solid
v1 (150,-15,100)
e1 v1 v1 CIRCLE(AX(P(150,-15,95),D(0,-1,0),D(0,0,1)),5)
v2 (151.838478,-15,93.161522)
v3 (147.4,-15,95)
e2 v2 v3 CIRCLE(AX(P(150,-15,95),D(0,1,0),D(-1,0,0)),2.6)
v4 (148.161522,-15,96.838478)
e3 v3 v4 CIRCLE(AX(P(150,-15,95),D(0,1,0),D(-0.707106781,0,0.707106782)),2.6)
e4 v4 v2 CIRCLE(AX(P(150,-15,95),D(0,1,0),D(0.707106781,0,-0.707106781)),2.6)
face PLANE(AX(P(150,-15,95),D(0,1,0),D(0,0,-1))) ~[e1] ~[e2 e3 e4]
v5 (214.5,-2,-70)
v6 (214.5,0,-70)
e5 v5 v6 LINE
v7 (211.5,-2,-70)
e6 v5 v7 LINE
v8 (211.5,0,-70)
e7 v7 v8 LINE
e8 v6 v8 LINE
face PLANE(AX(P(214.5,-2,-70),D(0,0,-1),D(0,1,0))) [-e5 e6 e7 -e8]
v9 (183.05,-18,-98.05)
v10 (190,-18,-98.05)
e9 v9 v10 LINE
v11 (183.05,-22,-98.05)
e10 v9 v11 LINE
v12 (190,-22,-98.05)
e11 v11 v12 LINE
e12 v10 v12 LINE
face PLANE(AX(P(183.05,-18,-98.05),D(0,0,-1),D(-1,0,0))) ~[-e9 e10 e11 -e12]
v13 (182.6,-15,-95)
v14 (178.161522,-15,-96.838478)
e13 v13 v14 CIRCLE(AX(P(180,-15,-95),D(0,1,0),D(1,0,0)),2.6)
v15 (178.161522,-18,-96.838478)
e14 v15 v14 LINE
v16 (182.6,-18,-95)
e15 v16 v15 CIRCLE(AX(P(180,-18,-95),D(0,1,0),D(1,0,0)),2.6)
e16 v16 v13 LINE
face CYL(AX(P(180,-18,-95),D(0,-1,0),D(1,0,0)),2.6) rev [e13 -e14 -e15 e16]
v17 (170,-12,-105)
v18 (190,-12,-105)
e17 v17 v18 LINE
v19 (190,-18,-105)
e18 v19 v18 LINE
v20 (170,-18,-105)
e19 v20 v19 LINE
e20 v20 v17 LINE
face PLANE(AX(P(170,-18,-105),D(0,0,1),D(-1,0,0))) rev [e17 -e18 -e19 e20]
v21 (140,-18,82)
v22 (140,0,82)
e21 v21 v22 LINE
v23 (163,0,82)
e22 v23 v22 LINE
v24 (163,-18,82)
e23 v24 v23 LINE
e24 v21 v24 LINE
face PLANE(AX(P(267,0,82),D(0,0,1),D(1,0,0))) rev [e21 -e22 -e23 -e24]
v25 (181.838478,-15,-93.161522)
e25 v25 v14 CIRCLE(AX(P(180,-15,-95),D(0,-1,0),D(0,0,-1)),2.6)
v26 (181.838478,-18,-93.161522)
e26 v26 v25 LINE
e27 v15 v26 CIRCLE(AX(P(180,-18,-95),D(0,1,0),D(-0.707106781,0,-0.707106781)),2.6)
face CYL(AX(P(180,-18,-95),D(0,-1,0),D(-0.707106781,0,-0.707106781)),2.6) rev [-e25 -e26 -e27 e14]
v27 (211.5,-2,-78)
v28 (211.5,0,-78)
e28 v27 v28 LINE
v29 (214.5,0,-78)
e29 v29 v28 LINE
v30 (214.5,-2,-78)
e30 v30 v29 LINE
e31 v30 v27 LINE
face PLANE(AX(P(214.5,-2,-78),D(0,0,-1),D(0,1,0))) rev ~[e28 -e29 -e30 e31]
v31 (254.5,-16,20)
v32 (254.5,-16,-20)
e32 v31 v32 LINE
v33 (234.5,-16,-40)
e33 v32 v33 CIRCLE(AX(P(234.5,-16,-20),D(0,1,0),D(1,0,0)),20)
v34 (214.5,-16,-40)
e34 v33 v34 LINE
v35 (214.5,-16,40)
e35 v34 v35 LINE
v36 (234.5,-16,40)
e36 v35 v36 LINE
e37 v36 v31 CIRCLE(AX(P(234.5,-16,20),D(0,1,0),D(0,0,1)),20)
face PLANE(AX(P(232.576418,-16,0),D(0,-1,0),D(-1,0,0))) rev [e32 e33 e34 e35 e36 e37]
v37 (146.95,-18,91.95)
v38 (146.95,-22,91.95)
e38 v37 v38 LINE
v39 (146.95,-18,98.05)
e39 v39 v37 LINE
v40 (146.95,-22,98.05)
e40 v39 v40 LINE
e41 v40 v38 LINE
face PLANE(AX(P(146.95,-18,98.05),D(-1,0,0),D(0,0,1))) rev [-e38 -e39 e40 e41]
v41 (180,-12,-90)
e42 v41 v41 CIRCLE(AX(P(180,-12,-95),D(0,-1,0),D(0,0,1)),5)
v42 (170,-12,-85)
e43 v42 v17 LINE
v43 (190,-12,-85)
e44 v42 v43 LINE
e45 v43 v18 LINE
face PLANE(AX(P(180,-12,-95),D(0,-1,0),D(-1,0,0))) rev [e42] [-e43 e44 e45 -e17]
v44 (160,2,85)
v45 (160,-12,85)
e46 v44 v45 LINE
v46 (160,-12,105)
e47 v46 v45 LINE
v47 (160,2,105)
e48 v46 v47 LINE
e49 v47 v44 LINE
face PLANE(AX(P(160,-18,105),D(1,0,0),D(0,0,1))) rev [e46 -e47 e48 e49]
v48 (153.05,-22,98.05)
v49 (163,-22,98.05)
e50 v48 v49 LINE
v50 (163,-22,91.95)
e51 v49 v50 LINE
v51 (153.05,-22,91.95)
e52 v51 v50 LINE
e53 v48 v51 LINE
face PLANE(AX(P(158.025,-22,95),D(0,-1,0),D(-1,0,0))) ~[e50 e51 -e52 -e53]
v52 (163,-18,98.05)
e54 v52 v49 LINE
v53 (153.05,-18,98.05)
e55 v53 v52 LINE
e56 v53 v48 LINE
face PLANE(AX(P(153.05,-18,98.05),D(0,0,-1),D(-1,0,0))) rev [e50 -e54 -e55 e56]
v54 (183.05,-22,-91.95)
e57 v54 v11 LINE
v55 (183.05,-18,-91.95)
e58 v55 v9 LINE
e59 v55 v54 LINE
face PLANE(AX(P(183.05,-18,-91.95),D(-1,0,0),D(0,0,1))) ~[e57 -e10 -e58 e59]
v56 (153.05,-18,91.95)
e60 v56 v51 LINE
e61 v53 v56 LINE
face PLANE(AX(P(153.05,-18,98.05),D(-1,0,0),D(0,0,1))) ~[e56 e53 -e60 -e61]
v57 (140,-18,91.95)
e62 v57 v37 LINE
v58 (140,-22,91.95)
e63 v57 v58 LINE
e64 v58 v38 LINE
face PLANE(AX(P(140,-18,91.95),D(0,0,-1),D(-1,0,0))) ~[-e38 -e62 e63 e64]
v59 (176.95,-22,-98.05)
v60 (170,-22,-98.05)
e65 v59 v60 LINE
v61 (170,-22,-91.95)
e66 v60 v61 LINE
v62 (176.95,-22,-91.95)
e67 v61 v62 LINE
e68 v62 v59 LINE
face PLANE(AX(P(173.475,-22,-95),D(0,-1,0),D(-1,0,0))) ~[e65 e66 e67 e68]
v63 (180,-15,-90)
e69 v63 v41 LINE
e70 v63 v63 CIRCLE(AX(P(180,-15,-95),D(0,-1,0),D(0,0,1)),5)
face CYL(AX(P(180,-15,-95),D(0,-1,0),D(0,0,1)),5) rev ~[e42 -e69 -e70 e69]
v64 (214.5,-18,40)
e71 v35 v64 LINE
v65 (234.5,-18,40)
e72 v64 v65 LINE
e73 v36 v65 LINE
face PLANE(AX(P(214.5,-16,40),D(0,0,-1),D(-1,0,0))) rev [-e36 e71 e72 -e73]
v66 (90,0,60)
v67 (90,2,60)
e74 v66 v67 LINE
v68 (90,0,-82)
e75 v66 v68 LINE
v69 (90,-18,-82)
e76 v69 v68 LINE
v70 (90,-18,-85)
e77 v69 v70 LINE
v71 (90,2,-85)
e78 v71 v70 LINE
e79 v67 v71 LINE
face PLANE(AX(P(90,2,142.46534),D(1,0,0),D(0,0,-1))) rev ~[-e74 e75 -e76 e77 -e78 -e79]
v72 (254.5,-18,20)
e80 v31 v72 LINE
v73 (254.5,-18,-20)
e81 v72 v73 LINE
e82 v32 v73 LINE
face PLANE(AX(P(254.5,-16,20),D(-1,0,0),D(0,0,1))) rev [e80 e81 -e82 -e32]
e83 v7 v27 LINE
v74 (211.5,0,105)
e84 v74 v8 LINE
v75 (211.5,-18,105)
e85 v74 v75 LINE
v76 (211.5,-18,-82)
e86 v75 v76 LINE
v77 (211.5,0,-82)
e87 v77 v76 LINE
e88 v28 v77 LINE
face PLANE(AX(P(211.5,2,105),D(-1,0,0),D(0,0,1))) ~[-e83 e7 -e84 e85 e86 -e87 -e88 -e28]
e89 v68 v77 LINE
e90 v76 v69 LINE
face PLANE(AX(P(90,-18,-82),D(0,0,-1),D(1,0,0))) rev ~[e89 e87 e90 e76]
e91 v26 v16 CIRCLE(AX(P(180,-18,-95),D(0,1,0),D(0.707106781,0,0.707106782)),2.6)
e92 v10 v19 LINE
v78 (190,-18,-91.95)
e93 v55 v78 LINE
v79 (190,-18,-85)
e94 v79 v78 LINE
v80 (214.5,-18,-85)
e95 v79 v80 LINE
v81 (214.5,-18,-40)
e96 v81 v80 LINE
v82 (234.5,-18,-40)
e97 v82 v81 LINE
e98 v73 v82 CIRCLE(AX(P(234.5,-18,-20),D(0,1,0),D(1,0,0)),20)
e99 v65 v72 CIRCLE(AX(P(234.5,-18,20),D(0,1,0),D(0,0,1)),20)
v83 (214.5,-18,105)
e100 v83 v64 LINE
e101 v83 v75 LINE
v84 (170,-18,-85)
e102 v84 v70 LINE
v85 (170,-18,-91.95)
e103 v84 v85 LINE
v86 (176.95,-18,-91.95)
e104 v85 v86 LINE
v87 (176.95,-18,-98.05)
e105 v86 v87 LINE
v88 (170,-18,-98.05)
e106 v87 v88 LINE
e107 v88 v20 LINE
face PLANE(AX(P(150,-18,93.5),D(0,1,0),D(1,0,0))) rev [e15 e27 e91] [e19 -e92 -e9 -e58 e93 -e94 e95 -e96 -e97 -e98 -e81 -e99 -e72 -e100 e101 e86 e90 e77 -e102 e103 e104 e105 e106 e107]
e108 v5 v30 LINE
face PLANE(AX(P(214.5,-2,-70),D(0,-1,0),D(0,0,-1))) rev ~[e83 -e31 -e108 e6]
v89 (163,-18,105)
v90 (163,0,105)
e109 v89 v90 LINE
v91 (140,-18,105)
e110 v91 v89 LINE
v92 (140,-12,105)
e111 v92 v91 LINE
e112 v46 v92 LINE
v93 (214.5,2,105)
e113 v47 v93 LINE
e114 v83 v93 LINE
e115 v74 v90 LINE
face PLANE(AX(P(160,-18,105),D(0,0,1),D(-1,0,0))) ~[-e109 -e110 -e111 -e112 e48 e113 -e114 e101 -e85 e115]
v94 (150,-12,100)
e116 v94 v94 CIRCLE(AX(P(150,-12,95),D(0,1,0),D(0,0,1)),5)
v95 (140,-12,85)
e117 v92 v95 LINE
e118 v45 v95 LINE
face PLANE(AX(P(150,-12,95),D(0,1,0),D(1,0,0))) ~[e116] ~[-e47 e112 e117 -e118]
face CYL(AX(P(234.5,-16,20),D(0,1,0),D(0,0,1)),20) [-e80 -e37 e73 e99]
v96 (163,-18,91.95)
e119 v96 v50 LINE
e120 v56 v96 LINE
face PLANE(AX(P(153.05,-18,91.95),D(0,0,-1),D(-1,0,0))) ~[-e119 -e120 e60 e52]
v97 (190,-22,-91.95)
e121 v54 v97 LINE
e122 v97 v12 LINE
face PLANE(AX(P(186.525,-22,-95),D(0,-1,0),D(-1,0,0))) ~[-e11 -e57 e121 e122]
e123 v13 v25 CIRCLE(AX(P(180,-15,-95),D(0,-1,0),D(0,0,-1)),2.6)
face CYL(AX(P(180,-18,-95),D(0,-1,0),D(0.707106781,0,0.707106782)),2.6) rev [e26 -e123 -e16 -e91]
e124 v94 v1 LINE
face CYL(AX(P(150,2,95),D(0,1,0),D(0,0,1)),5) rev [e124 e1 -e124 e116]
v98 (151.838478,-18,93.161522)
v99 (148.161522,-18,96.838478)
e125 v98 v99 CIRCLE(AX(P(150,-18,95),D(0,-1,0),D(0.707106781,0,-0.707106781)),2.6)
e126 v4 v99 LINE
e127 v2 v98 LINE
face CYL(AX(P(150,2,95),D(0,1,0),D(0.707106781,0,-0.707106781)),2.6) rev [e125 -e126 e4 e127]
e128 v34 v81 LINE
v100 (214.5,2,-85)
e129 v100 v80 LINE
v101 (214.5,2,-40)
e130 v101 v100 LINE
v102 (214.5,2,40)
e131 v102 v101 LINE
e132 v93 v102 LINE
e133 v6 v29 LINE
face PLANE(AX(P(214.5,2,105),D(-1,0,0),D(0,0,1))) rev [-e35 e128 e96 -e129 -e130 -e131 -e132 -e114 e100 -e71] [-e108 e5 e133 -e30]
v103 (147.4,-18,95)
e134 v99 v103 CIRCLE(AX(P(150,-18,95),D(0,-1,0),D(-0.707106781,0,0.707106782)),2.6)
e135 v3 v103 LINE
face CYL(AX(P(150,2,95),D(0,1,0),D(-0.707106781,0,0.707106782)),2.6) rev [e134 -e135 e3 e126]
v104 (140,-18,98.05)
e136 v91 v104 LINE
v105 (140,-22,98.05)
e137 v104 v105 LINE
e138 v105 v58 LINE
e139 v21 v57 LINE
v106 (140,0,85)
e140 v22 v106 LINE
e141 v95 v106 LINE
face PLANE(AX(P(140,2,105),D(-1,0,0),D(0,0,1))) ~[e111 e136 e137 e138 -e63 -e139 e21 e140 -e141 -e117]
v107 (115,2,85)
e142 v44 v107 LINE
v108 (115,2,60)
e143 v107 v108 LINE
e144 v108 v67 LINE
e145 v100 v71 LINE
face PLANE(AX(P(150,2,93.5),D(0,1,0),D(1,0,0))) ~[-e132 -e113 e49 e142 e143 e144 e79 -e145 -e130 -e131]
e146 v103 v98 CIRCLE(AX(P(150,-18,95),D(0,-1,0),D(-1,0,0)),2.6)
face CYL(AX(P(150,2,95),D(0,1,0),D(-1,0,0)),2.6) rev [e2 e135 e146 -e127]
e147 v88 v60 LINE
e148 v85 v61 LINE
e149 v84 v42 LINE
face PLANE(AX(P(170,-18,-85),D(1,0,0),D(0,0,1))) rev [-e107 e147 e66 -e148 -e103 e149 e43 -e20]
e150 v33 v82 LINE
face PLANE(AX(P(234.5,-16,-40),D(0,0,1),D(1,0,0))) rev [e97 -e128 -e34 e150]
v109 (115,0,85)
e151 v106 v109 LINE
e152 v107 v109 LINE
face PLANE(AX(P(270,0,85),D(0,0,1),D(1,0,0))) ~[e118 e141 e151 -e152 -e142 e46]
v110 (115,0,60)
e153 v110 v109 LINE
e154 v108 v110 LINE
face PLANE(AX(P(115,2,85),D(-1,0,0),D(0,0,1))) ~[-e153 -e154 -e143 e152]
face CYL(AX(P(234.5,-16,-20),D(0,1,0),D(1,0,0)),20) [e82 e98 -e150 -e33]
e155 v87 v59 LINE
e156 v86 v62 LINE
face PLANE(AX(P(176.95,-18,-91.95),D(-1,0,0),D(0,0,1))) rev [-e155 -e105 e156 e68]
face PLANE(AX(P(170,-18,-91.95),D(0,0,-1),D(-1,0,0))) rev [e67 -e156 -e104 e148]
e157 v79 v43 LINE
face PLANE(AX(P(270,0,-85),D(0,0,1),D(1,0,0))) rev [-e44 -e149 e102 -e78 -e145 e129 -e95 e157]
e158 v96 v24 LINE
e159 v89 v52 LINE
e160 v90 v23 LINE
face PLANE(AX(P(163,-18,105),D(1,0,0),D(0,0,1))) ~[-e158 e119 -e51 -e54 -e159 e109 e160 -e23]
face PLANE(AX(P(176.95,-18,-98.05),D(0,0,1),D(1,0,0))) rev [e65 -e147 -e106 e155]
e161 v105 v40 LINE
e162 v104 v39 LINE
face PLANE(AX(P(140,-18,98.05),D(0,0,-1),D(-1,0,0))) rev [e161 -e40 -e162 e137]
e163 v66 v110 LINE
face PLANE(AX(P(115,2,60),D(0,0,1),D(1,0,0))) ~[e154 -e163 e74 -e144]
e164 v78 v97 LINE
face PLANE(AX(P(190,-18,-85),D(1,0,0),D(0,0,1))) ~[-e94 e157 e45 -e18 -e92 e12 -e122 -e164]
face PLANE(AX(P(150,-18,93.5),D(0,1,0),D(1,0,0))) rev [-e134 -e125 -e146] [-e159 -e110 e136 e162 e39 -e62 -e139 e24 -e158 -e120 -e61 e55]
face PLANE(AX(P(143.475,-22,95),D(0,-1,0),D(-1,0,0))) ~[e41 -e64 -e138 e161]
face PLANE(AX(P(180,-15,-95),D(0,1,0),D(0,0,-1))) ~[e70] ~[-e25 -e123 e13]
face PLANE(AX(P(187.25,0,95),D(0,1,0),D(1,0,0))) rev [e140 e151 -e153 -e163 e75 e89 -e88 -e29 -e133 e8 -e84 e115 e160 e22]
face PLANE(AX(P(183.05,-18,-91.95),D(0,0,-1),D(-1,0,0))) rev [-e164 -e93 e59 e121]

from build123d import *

# Parameters (mm, degrees)
SKETCH_1_W           = 180
SKETCH_1_H           = 170
EXTRUDE_1_DEPTH      = 2
SKETCH_2_W           = 180
SKETCH_2_H           = 2
SKETCH_2_W_2         = 2
SKETCH_2_H_2         = 166
EXTRUDE_2_DEPTH      = 18
SKETCH_4_W           = 20
SKETCH_4_H           = 20
EXTRUDE_3_DEPTH      = 20
SKETCH_5_W           = 20
SKETCH_5_H           = 20
CUT_EXTRUDE_1_DEPTH  = 14
SKETCH_6_W           = 176
SKETCH_6_H           = 166
SKETCH_6_W_2         = 174
SKETCH_6_H_2         = 164
EXTRUDE_4_DEPTH      = 18
SKETCH_7_W           = 20
SKETCH_7_H           = 20
EXTRUDE_5_DEPTH      = 6
SKETCH_8_W           = 3
SKETCH_8_H           = 164
SKETCH_8_H_2         = 3
CUT_EXTRUDE_2_DEPTH  = 18
SKETCH_9_W           = 77
SKETCH_9_H           = 3
CUT_EXTRUDE_3_DEPTH  = 18
SKETCH_10_W          = 25
SKETCH_10_H          = 25
CUT_EXTRUDE_4_DEPTH  = 18
SKETCH_11_W          = 6.95
SKETCH_11_H          = 6.1
EXTRUDE_6_DEPTH      = 4
CUT_EXTRUDE_5_DEPTH  = 6
CUT_EXTRUDE_START    = -3
SKETCH_13_R          = 5
SKETCH_13_R_2        = 2.6
CUT_EXTRUDE_6_DEPTH  = 3
CUT_EXTRUDE_7_DEPTH  = 3
SKETCH_15_R          = 2.6
CUT_EXTRUDE_8_DEPTH  = 3
SKETCH_16_W          = 6.1
SKETCH_16_H          = 6.95
EXTRUDE_7_DEPTH      = 4
CUT_EXTRUDE_9_DEPTH  = 6
SKETCH_18_R          = 5
SKETCH_18_R_2        = 2.6
CUT_EXTRUDE_10_DEPTH = 3
EXTRUDE_8_DEPTH      = 4
SKETCH_20_W          = 30
SKETCH_20_H          = 20
SKETCH_20_W_2        = 80
EXTRUDE_9_DEPTH      = 2
SKETCH_21_W          = 3
SKETCH_21_H          = 20
EXTRUDE_10_DEPTH     = 18
SKETCH_22_W          = 20
SKETCH_22_H          = 20
SKETCH_22_R          = 5
EXTRUDE_11_DEPTH     = 14
SKETCH_23_W          = 30
SKETCH_23_H          = 20
CUT_EXTRUDE_11_DEPTH = 14
SKETCH_24_W          = 20
SKETCH_24_H          = 20
EXTRUDE_12_DEPTH     = 2
SKETCH_25_W          = 20
SKETCH_25_H          = 3
CUT_EXTRUDE_12_DEPTH = 18
CUT_EXTRUDE_13_DEPTH = 18
SKETCH_27_W          = 3
SKETCH_27_H          = 20
EXTRUDE_13_DEPTH     = 20
SKETCH_28_W          = 23
SKETCH_28_H          = 3
EXTRUDE_14_DEPTH     = 20
SKETCH_29_W          = 3
SKETCH_29_H          = 5
CUT_EXTRUDE_14_DEPTH = 20
SKETCH_30_W          = 20
SKETCH_30_H          = 20
CUT_EXTRUDE_15_DEPTH = 30
SKETCH_31_W          = 3
SKETCH_31_H          = 190
EXTRUDE_15_DEPTH     = 20
EXTRUDE_START        = -2
EXTRUDE_16_DEPTH     = 2
SKETCH_33_W          = 40
SKETCH_33_H          = 80
CUT_EXTRUDE_16_DEPTH = 2
SKETCH_34_W          = 44.5
SKETCH_34_H          = 20
CUT_EXTRUDE_17_DEPTH = 30
SKETCH_35_W          = 20
SKETCH_35_H          = 3
CUT_EXTRUDE_18_DEPTH = 18
EXTRUDE_17_DEPTH     = 20
CUT_EXTRUDE_19_DEPTH = 20
SKETCH_38_R          = 5
CUT_EXTRUDE_20_DEPTH = 17
SKETCH_39_W          = 20
SKETCH_39_H          = 20
CUT_EXTRUDE_21_DEPTH = 14
SKETCH_40_W          = 54.5
SKETCH_40_H          = 20
EXTRUDE_18_DEPTH     = 2
SKETCH_42_W          = 3
SKETCH_42_H          = 23
EXTRUDE_20_DEPTH     = 18
SKETCH_44_W          = 9.95
SKETCH_44_H          = 6.1
SKETCH_44_W_2        = 6.95
EXTRUDE_21_DEPTH     = 4
SKETCH_45_W          = 26.378914519
SKETCH_45_H          = 21.149439528
CUT_EXTRUDE_22_DEPTH = 30
SKETCH_46_W          = 20
SKETCH_46_H          = 3
EXTRUDE_22_DEPTH     = 18
CUT_EXTRUDE_23_DEPTH = 30
SKETCH_48_W          = 47
SKETCH_48_H          = 3
CUT_EXTRUDE_24_DEPTH = 18
SKETCH_49_W          = 50.597895005
SKETCH_49_H          = 84.263639234
CUT_EXTRUDE_25_DEPTH = 2
SKETCH_50_W          = 48.5
SKETCH_50_H          = 3
CUT_EXTRUDE_26_DEPTH = 18
SKETCH_51_W          = 8
SKETCH_51_H          = 2
CUT_EXTRUDE_27_DEPTH = 18


with BuildPart() as part:
    # 草图1 → 凸台-拉伸1 (new body)
    with BuildSketch(Plane(origin=(0, 0, 0), x_dir=(1, 0, 0), z_dir=(0, 1, 0))):
        Rectangle(SKETCH_1_W, SKETCH_1_H)
    extrude_1 = extrude(amount=EXTRUDE_1_DEPTH)

    # 草图2 → 凸台-拉伸2 (add)
    with BuildSketch(Plane(origin=(0, 0, 0), x_dir=(1, 0, 0), z_dir=(0, 1, 0))):
        with Locations((0, 84)):
            Rectangle(SKETCH_2_W, SKETCH_2_H)
        Polygon((-88, 83), (-90, 83), (-90, -85), (-88, -85), (-88, -83), align=None)
        with Locations((89, 0)):
            Rectangle(SKETCH_2_W_2, SKETCH_2_H_2)
        Polygon((90, -85), (90, -83), (88, -83), (-88, -83), (-88, -85), align=None)
    extrude_2 = extrude(amount=-EXTRUDE_2_DEPTH)

    # 草图4 → 凸台-拉伸3 (add)
    with BuildSketch(Plane(origin=(0, 2, 0), x_dir=(1, 0, 0), z_dir=(0, 1, 0))):
        Polygon((10, -85), (0, -85), (-10, -85), (-10, -95), (-10, -105), (10, -105), (10, -95), align=None)
        with Locations((-100, 0)):
            Rectangle(SKETCH_4_W, SKETCH_4_H)
    extrude(amount=-EXTRUDE_3_DEPTH)

    # 草图5 → 切除-拉伸1 (cut)
    with BuildSketch(Plane(origin=(0, 2, 0), x_dir=(1, 0, 0), z_dir=(0, 1, 0))):
        with Locations((-100, 0)):
            Rectangle(SKETCH_5_W, SKETCH_5_H)
        with Locations((0, -95)):
            Rectangle(SKETCH_5_W, SKETCH_5_H)
    extrude(amount=-CUT_EXTRUDE_1_DEPTH, mode=Mode.SUBTRACT)

    # 草图6 → 凸台-拉伸4 (add)
    with BuildSketch(Plane.XZ):
        Rectangle(SKETCH_6_W, SKETCH_6_H)
        Rectangle(SKETCH_6_W_2, SKETCH_6_H_2, mode=Mode.SUBTRACT)
    extrude_4 = extrude(amount=EXTRUDE_4_DEPTH)

    # 草图7 → 凸台-拉伸5 (add)
    with BuildSketch(Plane(origin=(0, -18, 0), x_dir=(-1, 0, 0), z_dir=(0, -1, 0))):
        with Locations((0, 95)):
            Rectangle(SKETCH_7_W, SKETCH_7_H)
    extrude_5 = extrude(amount=-EXTRUDE_5_DEPTH)

    # 草图8 → 切除-拉伸2 (cut)
    with BuildSketch(Plane(origin=(0, -18, 0), x_dir=(-1, 0, 0), z_dir=(0, -1, 0))):
        with Locations((-88.5, 0)):
            Rectangle(SKETCH_8_W, SKETCH_8_H)
        with Locations((-88.5, -83.5)):
            Rectangle(SKETCH_8_W, SKETCH_8_H_2)
    extrude(amount=-CUT_EXTRUDE_2_DEPTH, mode=Mode.SUBTRACT)

    # 草图9 → 切除-拉伸3 (cut)
    with BuildSketch(Plane(origin=(0, -18, 0), x_dir=(-1, 0, 0), z_dir=(0, -1, 0))):
        with Locations((-48.5, -83.5)):
            Rectangle(SKETCH_9_W, SKETCH_9_H)
        with Locations((48.5, -83.5)):
            Rectangle(SKETCH_9_W, SKETCH_9_H)
    extrude(amount=-CUT_EXTRUDE_3_DEPTH, mode=Mode.SUBTRACT)

    # 草图10 → 切除-拉伸4 (cut)
    with BuildSketch(Plane(origin=(0, 2, 0), x_dir=(1, 0, 0), z_dir=(0, 1, 0))):
        with Locations((77.5, -72.5)):
            Rectangle(SKETCH_10_W, SKETCH_10_H)
    cut_extrude_4 = extrude(amount=-CUT_EXTRUDE_4_DEPTH, mode=Mode.SUBTRACT)

    # 草图11 → 凸台-拉伸6 (add)
    with BuildSketch(Plane(origin=(0, -18, 0), x_dir=(-1, 0, 0), z_dir=(0, -1, 0))):
        Polygon((-3.05, 91.95), (-3.05, 98.05), (-10, 98.05), (-10, 95), (-10, 91.95), align=None)
        with Locations((6.525, 95)):
            Rectangle(SKETCH_11_W, SKETCH_11_H)
    extrude_6 = extrude(amount=EXTRUDE_6_DEPTH)

    # 草图12 → 切除-拉伸5 (cut)
    with BuildSketch(Plane(origin=(0, -18, 0), x_dir=(-1, 0, 0), z_dir=(0, -1, 0))):
        with BuildLine():
            ThreePointArc((-1.838477631, 96.838477631), (-1.838477631, 93.161522369), (1.838477631, 93.161522369))
            Line((1.838477631, 93.161522369), (-1.838477631, 96.838477631))
        make_face()
        with BuildLine():
            Line((-1.838477631, 96.838477631), (1.838477631, 93.161522369))
            ThreePointArc((1.838477631, 93.161522369), (2.402086785, 94.005023076), (2.6, 95))
            ThreePointArc((2.6, 95), (0.994976924, 97.402086785), (-1.838477631, 96.838477631))
        make_face()
    cut_extrude_5 = extrude(amount=-CUT_EXTRUDE_5_DEPTH, mode=Mode.SUBTRACT)

    # 草图13 → 切除-拉伸6 (cut)
    with BuildSketch(Plane(origin=(0, -12, 0), x_dir=(1, 0, 0), z_dir=(0, 1, 0)).offset(CUT_EXTRUDE_START)):
        with Locations(Location((0, 95, 0), (0, 0, 270))):
            Circle(SKETCH_13_R)
        with Locations(Location((0, 95, 0), (0, 0, 90))):
            Circle(SKETCH_13_R_2, mode=Mode.SUBTRACT)
    cut_extrude_6 = extrude(amount=CUT_EXTRUDE_6_DEPTH, mode=Mode.SUBTRACT)

    # 草图14 → 切除-拉伸7 (cut)
    with BuildSketch(Plane(origin=(0, -12, 0), x_dir=(1, 0, 0), z_dir=(0, 1, 0))):
        with BuildLine():
            ThreePointArc((-96.464466094, 3.535533906), (-103.535533906, 3.535533906), (-103.535533906, -3.535533906))
            Line((-103.535533906, -3.535533906), (-96.464466094, 3.535533906))
        make_face()
        with BuildLine():
            Line((-96.464466094, 3.535533906), (-103.535533906, -3.535533906))
            ThreePointArc((-103.535533906, -3.535533906), (-98.086582838, -4.619397663), (-95, 0))
            ThreePointArc((-95, 0), (-95.380602337, 1.913417162), (-96.464466094, 3.535533906))
        make_face()
    extrude(amount=-CUT_EXTRUDE_7_DEPTH, mode=Mode.SUBTRACT)

    # 草图15 → 切除-拉伸8 (cut)
    with BuildSketch(Plane(origin=(0, -15, 0), x_dir=(1, 0, 0), z_dir=(0, 1, 0))):
        with Locations(Location((-100, 0, 0), (0, 0, 270))):
            Circle(SKETCH_15_R)
    extrude(amount=-CUT_EXTRUDE_8_DEPTH, mode=Mode.SUBTRACT)

    # 草图16 → 凸台-拉伸7 (add)
    with BuildSketch(Plane.XZ.offset(18)):
        Polygon((-96.95, -3.05), (-100, -3.05), (-103.05, -3.05), (-103.05, -10), (-96.95, -10), align=None)
        with Locations((-100, 6.525)):
            Rectangle(SKETCH_16_W, SKETCH_16_H)
    extrude(amount=EXTRUDE_7_DEPTH)

    # 草图17 → 切除-拉伸9 (cut)
    with BuildSketch(Plane(origin=(0, -18, 0), x_dir=(-1, 0, 0), z_dir=(0, -1, 0))):
        with BuildLine():
            ThreePointArc((2.6, -95), (0.994976924, -92.597913215), (-1.838477631, -93.161522369))
            Line((-1.838477631, -93.161522369), (1.838477631, -96.838477631))
            ThreePointArc((1.838477631, -96.838477631), (2.402086785, -95.994976924), (2.6, -95))
        make_face()
        with BuildLine():
            Line((1.838477631, -96.838477631), (-1.838477631, -93.161522369))
            ThreePointArc((-1.838477631, -93.161522369), (-1.838477631, -96.838477631), (1.838477631, -96.838477631))
        make_face()
    extrude(amount=-CUT_EXTRUDE_9_DEPTH, mode=Mode.SUBTRACT)

    # 草图18 → 切除-拉伸10 (cut)
    with BuildSketch(Plane(origin=(0, -12, 0), x_dir=(1, 0, 0), z_dir=(0, 1, 0)).offset(CUT_EXTRUDE_START)):
        with Locations(Location((0, -95, 0), (0, 0, 270))):
            Circle(SKETCH_18_R)
        with Locations(Location((0, -95, 0), (0, 0, 90))):
            Circle(SKETCH_18_R_2, mode=Mode.SUBTRACT)
    extrude(amount=CUT_EXTRUDE_10_DEPTH, mode=Mode.SUBTRACT)

    # 草图19 → 凸台-拉伸8 (add)
    with BuildSketch(Plane(origin=(0, -18, 0), x_dir=(-1, 0, 0), z_dir=(0, -1, 0))):
        Polygon((3.05, -91.95), (3.05, -95), (3.05, -98.05), (10, -98.05), (10, -91.95), align=None)
        Polygon((-3.05, -98.05), (-3.05, -95), (-3.05, -91.95), (-10, -91.95), (-10, -98.05), align=None)
    extrude(amount=EXTRUDE_8_DEPTH)

    # 草图20 → 凸台-拉伸9 (add)
    with BuildSketch(Plane(origin=(0, 2, 0), x_dir=(1, 0, 0), z_dir=(0, 1, 0))):
        with Locations((25, -95)):
            Rectangle(SKETCH_20_W, SKETCH_20_H)
        with Locations((-50, -95)):
            Rectangle(SKETCH_20_W_2, SKETCH_20_H)
    extrude(amount=-EXTRUDE_9_DEPTH)

    # 草图21 → 凸台-拉伸10 (add)
    with BuildSketch(Plane(origin=(0, 0, 0), x_dir=(-1, 0, 0), z_dir=(0, -1, 0))):
        with Locations((88.5, -95)):
            Rectangle(SKETCH_21_W, SKETCH_21_H)
    extrude(amount=EXTRUDE_10_DEPTH)

    # 草图22 → 凸台-拉伸11 (add)
    with BuildSketch(Plane(origin=(0, -12, 0), x_dir=(1, 0, 0), z_dir=(0, 1, 0))):
        with Locations((0, -95)):
            Rectangle(SKETCH_22_W, SKETCH_22_H)
        with Locations(Location((0, -95, 0), (0, 0, 270))):
            Circle(SKETCH_22_R, mode=Mode.SUBTRACT)
    extrude(amount=EXTRUDE_11_DEPTH)

    # 草图23 → 切除-拉伸11 (cut)
    with BuildSketch(Plane(origin=(0, 0, 0), x_dir=(-1, 0, 0), z_dir=(0, -1, 0))):
        with Locations((-25, -95)):
            Rectangle(SKETCH_23_W, SKETCH_23_H)
    extrude(amount=-CUT_EXTRUDE_11_DEPTH, mode=Mode.SUBTRACT)

    # 草图24 → 凸台-拉伸12 (add)
    with BuildSketch(Plane(origin=(0, 2, 0), x_dir=(1, 0, 0), z_dir=(0, 1, 0))):
        with Locations((80, 95)):
            Rectangle(SKETCH_24_W, SKETCH_24_H)
    extrude(amount=-EXTRUDE_12_DEPTH)

    # 草图25 → 切除-拉伸12 (cut)
    with BuildSketch(Plane(origin=(0, -18, 0), x_dir=(-1, 0, 0), z_dir=(0, -1, 0))):
        with Locations((-80, 83.5)):
            Rectangle(SKETCH_25_W, SKETCH_25_H)
    extrude(amount=-CUT_EXTRUDE_12_DEPTH, mode=Mode.SUBTRACT)

    # 草图26 → 切除-拉伸13 (cut)
    with BuildSketch(Plane.XZ):
        with BuildLine():
            ThreePointArc((90, -88), (83, -95), (90, -102))
            Line((90, -102), (90, -95))
            Line((90, -95), (90, -88))
        make_face()
    extrude(amount=-CUT_EXTRUDE_13_DEPTH, mode=Mode.SUBTRACT)

    # 草图27 → 凸台-拉伸13 (add)
    with BuildSketch(Plane(origin=(0, 2, 0), x_dir=(1, 0, 0), z_dir=(0, 1, 0))):
        with Locations((68.5, 95)):
            Rectangle(SKETCH_27_W, SKETCH_27_H)
    extrude(amount=-EXTRUDE_13_DEPTH)

    # 草图28 → 凸台-拉伸14 (add)
    with BuildSketch(Plane(origin=(0, 2, 0), x_dir=(1, 0, 0), z_dir=(0, 1, 0))):
        with Locations((78.5, 103.5)):
            Rectangle(SKETCH_28_W, SKETCH_28_H)
    extrude(amount=-EXTRUDE_14_DEPTH)

    # 草图29 → 切除-拉伸14 (cut)
    with BuildSketch(Plane(origin=(0, 2, 0), x_dir=(1, 0, 0), z_dir=(0, 1, 0))):
        with Locations((88.5, 102.5)):
            Rectangle(SKETCH_29_W, SKETCH_29_H)
    extrude(amount=-CUT_EXTRUDE_14_DEPTH, mode=Mode.SUBTRACT)

    # 草图30 → 切除-拉伸15 (cut)
    with BuildSketch(Plane(origin=(0, 2, 0), x_dir=(1, 0, 0), z_dir=(0, 1, 0))):
        with BuildLine():
            Line((-34.5, 40), (-34.5, 85))
            Line((-34.5, 85), (-90, 85))
            Line((-90, 85), (-90, 10))
            Line((-90, 10), (-90, -10))
            Line((-90, -10), (-90, -105))
            Line((-90, -105), (-34.5, -105))
            Line((-34.5, -105), (-34.5, -85))
            Line((-34.5, -85), (-34.5, -40))
            Line((-34.5, -40), (-54.5, -40))
            ThreePointArc((-54.5, -40), (-68.642135624, -34.142135624), (-74.5, -20))
            Line((-74.5, -20), (-74.5, 20))
            ThreePointArc((-74.5, 20), (-68.642135624, 34.142135624), (-54.5, 40))
            Line((-54.5, 40), (-34.5, 40))
        make_face()
        with Locations((-100, 0)):
            Rectangle(SKETCH_30_W, SKETCH_30_H)
    cut_extrude_15 = extrude(amount=-CUT_EXTRUDE_15_DEPTH, mode=Mode.SUBTRACT)

    # 草图31 → 凸台-拉伸15 (add)
    with BuildSketch(Plane(origin=(0, 2, 0), x_dir=(1, 0, 0), z_dir=(0, 1, 0))):
        with Locations((-33, -10)):
            Rectangle(SKETCH_31_W, SKETCH_31_H)
    extrude_15 = extrude(amount=-EXTRUDE_15_DEPTH)

    # 草图32 → 凸台-拉伸16 (add)
    with BuildSketch(Plane(origin=(0, -18, 0), x_dir=(-1, 0, 0), z_dir=(0, -1, 0)).offset(EXTRUDE_START)):
        with BuildLine():
            Line((34.5, -40), (54.5, -40))
            ThreePointArc((54.5, -40), (68.642135624, -34.142135624), (74.5, -20))
            Line((74.5, -20), (74.5, 20))
            ThreePointArc((74.5, 20), (68.642135624, 34.142135624), (54.5, 40))
            Line((54.5, 40), (34.5, 40))
            Line((34.5, 40), (34.5, -40))
        make_face()
    extrude_16 = extrude(amount=EXTRUDE_16_DEPTH)

    # 草图33 → 切除-拉伸16 (cut)
    with BuildSketch(Plane(origin=(0, 2, 0), x_dir=(1, 0, 0), z_dir=(0, 1, 0))):
        with Locations((-54.5, 0)):
            Rectangle(SKETCH_33_W, SKETCH_33_H)
    extrude(amount=-CUT_EXTRUDE_16_DEPTH, mode=Mode.SUBTRACT)

    # 草图34 → 切除-拉伸17 (cut)
    with BuildSketch(Plane(origin=(0, 2, 0), x_dir=(1, 0, 0), z_dir=(0, 1, 0))):
        with Locations((-12.25, -95)):
            Rectangle(SKETCH_34_W, SKETCH_34_H)
    extrude(amount=-CUT_EXTRUDE_17_DEPTH, mode=Mode.SUBTRACT)

    # 草图35 → 切除-拉伸18 (cut)
    with BuildSketch(Plane(origin=(0, -18, 0), x_dir=(-1, 0, 0), z_dir=(0, -1, 0))):
        with Locations((0, -83.5)):
            Rectangle(SKETCH_35_W, SKETCH_35_H)
    extrude(amount=-CUT_EXTRUDE_18_DEPTH, mode=Mode.SUBTRACT)

    # 草图36 → 凸台-拉伸17 (add)
    with BuildSketch(Plane(origin=(0, 2, 0), x_dir=(1, 0, 0), z_dir=(0, 1, 0))):
        Polygon((40, -105), (40, -85), (40, -82), (20, -82), (20, -85), (20, -105), align=None)
    extrude_17 = extrude(amount=-EXTRUDE_17_DEPTH)

    # 草图37 → 切除-拉伸19 (cut)
    with BuildSketch(Plane(origin=(0, 2, 0), x_dir=(1, 0, 0), z_dir=(0, 1, 0))):
        with BuildLine():
            ThreePointArc((32.6, -95), (30.994976924, -92.597913215), (28.161522369, -93.161522369))
            Line((28.161522369, -93.161522369), (31.838477631, -96.838477631))
            ThreePointArc((31.838477631, -96.838477631), (32.402086785, -95.994976924), (32.6, -95))
        make_face()
        with BuildLine():
            Line((31.838477631, -96.838477631), (28.161522369, -93.161522369))
            ThreePointArc((28.161522369, -93.161522369), (28.161522369, -96.838477631), (31.838477631, -96.838477631))
        make_face()
    cut_extrude_19 = extrude(amount=-CUT_EXTRUDE_19_DEPTH, mode=Mode.SUBTRACT)

    # 草图38 → 切除-拉伸20 (cut)
    with BuildSketch(Plane(origin=(0, 2, 0), x_dir=(1, 0, 0), z_dir=(0, 1, 0))):
        with Locations(Location((30, -95, 0), (0, 0, 270))):
            Circle(SKETCH_38_R)
    cut_extrude_20 = extrude(amount=-CUT_EXTRUDE_20_DEPTH, mode=Mode.SUBTRACT)

    # 草图39 → 切除-拉伸21 (cut)
    with BuildSketch(Plane(origin=(0, 2, 0), x_dir=(1, 0, 0), z_dir=(0, 1, 0))):
        with Locations((30, -95)):
            Rectangle(SKETCH_39_W, SKETCH_39_H)
    cut_extrude_21 = extrude(amount=-CUT_EXTRUDE_21_DEPTH, mode=Mode.SUBTRACT)

    # 草图40 → 凸台-拉伸18 (add)
    with BuildSketch(Plane(origin=(0, 2, 0), x_dir=(1, 0, 0), z_dir=(0, 1, 0))):
        with Locations((-7.25, -95)):
            Rectangle(SKETCH_40_W, SKETCH_40_H)
    extrude_18 = extrude(amount=-EXTRUDE_18_DEPTH)

    # 草图42 → 凸台-拉伸20 (add)
    with BuildSketch(Plane(origin=(0, -18, 0), x_dir=(-1, 0, 0), z_dir=(0, -1, 0))):
        with Locations((-18.5, -93.5)):
            Rectangle(SKETCH_42_W, SKETCH_42_H)
    extrude_20 = extrude(amount=-EXTRUDE_20_DEPTH)

    # 草图44 → 凸台-拉伸21 (add)
    with BuildSketch(Plane(origin=(0, -18, 0), x_dir=(-1, 0, 0), z_dir=(0, -1, 0))):
        with Locations((-21.975, -95)):
            Rectangle(SKETCH_44_W, SKETCH_44_H)
        with Locations((-36.525, -95)):
            Rectangle(SKETCH_44_W_2, SKETCH_44_H)
    extrude_21 = extrude(amount=EXTRUDE_21_DEPTH)

    # 草图45 → 切除-拉伸22 (cut)
    with BuildSketch(Plane(origin=(0, 2, 0), x_dir=(1, 0, 0), z_dir=(0, 1, 0))):
        with Locations((80.18945726, 95.574719764)):
            Rectangle(SKETCH_45_W, SKETCH_45_H)
    extrude(amount=-CUT_EXTRUDE_22_DEPTH, mode=Mode.SUBTRACT)

    # 草图46 → 凸台-拉伸22 (add)
    with BuildSketch(Plane(origin=(0, 0, 0), x_dir=(-1, 0, 0), z_dir=(0, -1, 0))):
        with Locations((-80, 83.5)):
            Rectangle(SKETCH_46_W, SKETCH_46_H)
    extrude(amount=EXTRUDE_22_DEPTH)

    # 镜向1: 凸台-拉伸1, 凸台-拉伸2, 凸台-拉伸4, 凸台-拉伸5, 切除-拉伸4, 凸台-拉伸6, 切除-拉伸5, 切除-拉伸6, 切除-拉伸15, 凸台-拉伸15, 凸台-拉伸16, 凸台-拉伸17, 切除-拉伸19, 切除-拉伸20, 切除-拉伸21, 凸台-拉伸18, 凸台-拉伸20, 凸台-拉伸21 across plane
    add(extrude_1.mirror(Plane(origin=(90, 2, 85), x_dir=(0, 0, 1), z_dir=(-1, 0, 0))))
    add(extrude_2.mirror(Plane(origin=(90, 2, 85), x_dir=(0, 0, 1), z_dir=(-1, 0, 0))))
    add(extrude_4.mirror(Plane(origin=(90, 2, 85), x_dir=(0, 0, 1), z_dir=(-1, 0, 0))))
    add(extrude_5.mirror(Plane(origin=(90, 2, 85), x_dir=(0, 0, 1), z_dir=(-1, 0, 0))))
    add(cut_extrude_4.mirror(Plane(origin=(90, 2, 85), x_dir=(0, 0, 1), z_dir=(-1, 0, 0))), mode=Mode.SUBTRACT)
    add(extrude_6.mirror(Plane(origin=(90, 2, 85), x_dir=(0, 0, 1), z_dir=(-1, 0, 0))))
    add(cut_extrude_5.mirror(Plane(origin=(90, 2, 85), x_dir=(0, 0, 1), z_dir=(-1, 0, 0))), mode=Mode.SUBTRACT)
    add(cut_extrude_6.mirror(Plane(origin=(90, 2, 85), x_dir=(0, 0, 1), z_dir=(-1, 0, 0))), mode=Mode.SUBTRACT)
    add(cut_extrude_15.mirror(Plane(origin=(90, 2, 85), x_dir=(0, 0, 1), z_dir=(-1, 0, 0))), mode=Mode.SUBTRACT)
    add(extrude_15.mirror(Plane(origin=(90, 2, 85), x_dir=(0, 0, 1), z_dir=(-1, 0, 0))))
    add(extrude_16.mirror(Plane(origin=(90, 2, 85), x_dir=(0, 0, 1), z_dir=(-1, 0, 0))))
    add(extrude_17.mirror(Plane(origin=(90, 2, 85), x_dir=(0, 0, 1), z_dir=(-1, 0, 0))))
    add(cut_extrude_19.mirror(Plane(origin=(90, 2, 85), x_dir=(0, 0, 1), z_dir=(-1, 0, 0))), mode=Mode.SUBTRACT)
    add(cut_extrude_20.mirror(Plane(origin=(90, 2, 85), x_dir=(0, 0, 1), z_dir=(-1, 0, 0))), mode=Mode.SUBTRACT)
    add(cut_extrude_21.mirror(Plane(origin=(90, 2, 85), x_dir=(0, 0, 1), z_dir=(-1, 0, 0))), mode=Mode.SUBTRACT)
    add(extrude_18.mirror(Plane(origin=(90, 2, 85), x_dir=(0, 0, 1), z_dir=(-1, 0, 0))))
    add(extrude_20.mirror(Plane(origin=(90, 2, 85), x_dir=(0, 0, 1), z_dir=(-1, 0, 0))))
    add(extrude_21.mirror(Plane(origin=(90, 2, 85), x_dir=(0, 0, 1), z_dir=(-1, 0, 0))))

    # 草图47 → 切除-拉伸23 (cut)
    with BuildSketch(Plane(origin=(0, 2, 0), x_dir=(1, 0, 0), z_dir=(0, 1, 0))):
        Polygon((-85.012299468, 85), (-34.5, 85), (90, 85), (90, 116.288781381), (-85.012299468, 116.288781381), align=None)
        Polygon((90, 85), (-34.5, 85), (-34.5, -105), (20, -105), (20, -85), (65, -85), (65, -60), (90, -60), align=None)
        Polygon((-34.5, -105), (-34.5, 85), (-85.012299468, 85), (-85.012299468, -142.465339739), (90, -142.465339739), (90, -60), (65, -60), (65, -85), (20, -85), (20, -105), align=None)
    extrude(amount=-CUT_EXTRUDE_23_DEPTH, mode=Mode.SUBTRACT)

    # 草图48 → 切除-拉伸24 (cut)
    with BuildSketch(Plane.XZ.offset(18)):
        Polygon((90, -82), (93, -82), (93, 82), (93, 85), (90, 85), align=None)
        with Locations((116.5, 83.5)):
            Rectangle(SKETCH_48_W, SKETCH_48_H)
    extrude(amount=-CUT_EXTRUDE_24_DEPTH, mode=Mode.SUBTRACT)

    # 草图49 → 切除-拉伸25 (cut)
    with BuildSketch(Plane(origin=(0, 2, 0), x_dir=(1, 0, 0), z_dir=(0, 1, 0))):
        with Locations((239.798947502, 2.131819617)):
            Rectangle(SKETCH_49_W, SKETCH_49_H)
    extrude(amount=-CUT_EXTRUDE_25_DEPTH, mode=Mode.SUBTRACT)

    # 草图50 → 切除-拉伸26 (cut)
    with BuildSketch(Plane(origin=(0, -18, 0), x_dir=(-1, 0, 0), z_dir=(0, -1, 0))):
        with Locations((-187.25, -83.5)):
            Rectangle(SKETCH_50_W, SKETCH_50_H)
    extrude(amount=-CUT_EXTRUDE_26_DEPTH, mode=Mode.SUBTRACT)

    # 草图51 → 切除-拉伸27 (cut)
    with BuildSketch(Plane(origin=(214.5, 0, 0), x_dir=(0, 0, -1), z_dir=(1, 0, 0))):
        with Locations((74, -1)):
            Rectangle(SKETCH_51_W, SKETCH_51_H)
    extrude(amount=-CUT_EXTRUDE_27_DEPTH, mode=Mode.SUBTRACT)


solid = part.part
